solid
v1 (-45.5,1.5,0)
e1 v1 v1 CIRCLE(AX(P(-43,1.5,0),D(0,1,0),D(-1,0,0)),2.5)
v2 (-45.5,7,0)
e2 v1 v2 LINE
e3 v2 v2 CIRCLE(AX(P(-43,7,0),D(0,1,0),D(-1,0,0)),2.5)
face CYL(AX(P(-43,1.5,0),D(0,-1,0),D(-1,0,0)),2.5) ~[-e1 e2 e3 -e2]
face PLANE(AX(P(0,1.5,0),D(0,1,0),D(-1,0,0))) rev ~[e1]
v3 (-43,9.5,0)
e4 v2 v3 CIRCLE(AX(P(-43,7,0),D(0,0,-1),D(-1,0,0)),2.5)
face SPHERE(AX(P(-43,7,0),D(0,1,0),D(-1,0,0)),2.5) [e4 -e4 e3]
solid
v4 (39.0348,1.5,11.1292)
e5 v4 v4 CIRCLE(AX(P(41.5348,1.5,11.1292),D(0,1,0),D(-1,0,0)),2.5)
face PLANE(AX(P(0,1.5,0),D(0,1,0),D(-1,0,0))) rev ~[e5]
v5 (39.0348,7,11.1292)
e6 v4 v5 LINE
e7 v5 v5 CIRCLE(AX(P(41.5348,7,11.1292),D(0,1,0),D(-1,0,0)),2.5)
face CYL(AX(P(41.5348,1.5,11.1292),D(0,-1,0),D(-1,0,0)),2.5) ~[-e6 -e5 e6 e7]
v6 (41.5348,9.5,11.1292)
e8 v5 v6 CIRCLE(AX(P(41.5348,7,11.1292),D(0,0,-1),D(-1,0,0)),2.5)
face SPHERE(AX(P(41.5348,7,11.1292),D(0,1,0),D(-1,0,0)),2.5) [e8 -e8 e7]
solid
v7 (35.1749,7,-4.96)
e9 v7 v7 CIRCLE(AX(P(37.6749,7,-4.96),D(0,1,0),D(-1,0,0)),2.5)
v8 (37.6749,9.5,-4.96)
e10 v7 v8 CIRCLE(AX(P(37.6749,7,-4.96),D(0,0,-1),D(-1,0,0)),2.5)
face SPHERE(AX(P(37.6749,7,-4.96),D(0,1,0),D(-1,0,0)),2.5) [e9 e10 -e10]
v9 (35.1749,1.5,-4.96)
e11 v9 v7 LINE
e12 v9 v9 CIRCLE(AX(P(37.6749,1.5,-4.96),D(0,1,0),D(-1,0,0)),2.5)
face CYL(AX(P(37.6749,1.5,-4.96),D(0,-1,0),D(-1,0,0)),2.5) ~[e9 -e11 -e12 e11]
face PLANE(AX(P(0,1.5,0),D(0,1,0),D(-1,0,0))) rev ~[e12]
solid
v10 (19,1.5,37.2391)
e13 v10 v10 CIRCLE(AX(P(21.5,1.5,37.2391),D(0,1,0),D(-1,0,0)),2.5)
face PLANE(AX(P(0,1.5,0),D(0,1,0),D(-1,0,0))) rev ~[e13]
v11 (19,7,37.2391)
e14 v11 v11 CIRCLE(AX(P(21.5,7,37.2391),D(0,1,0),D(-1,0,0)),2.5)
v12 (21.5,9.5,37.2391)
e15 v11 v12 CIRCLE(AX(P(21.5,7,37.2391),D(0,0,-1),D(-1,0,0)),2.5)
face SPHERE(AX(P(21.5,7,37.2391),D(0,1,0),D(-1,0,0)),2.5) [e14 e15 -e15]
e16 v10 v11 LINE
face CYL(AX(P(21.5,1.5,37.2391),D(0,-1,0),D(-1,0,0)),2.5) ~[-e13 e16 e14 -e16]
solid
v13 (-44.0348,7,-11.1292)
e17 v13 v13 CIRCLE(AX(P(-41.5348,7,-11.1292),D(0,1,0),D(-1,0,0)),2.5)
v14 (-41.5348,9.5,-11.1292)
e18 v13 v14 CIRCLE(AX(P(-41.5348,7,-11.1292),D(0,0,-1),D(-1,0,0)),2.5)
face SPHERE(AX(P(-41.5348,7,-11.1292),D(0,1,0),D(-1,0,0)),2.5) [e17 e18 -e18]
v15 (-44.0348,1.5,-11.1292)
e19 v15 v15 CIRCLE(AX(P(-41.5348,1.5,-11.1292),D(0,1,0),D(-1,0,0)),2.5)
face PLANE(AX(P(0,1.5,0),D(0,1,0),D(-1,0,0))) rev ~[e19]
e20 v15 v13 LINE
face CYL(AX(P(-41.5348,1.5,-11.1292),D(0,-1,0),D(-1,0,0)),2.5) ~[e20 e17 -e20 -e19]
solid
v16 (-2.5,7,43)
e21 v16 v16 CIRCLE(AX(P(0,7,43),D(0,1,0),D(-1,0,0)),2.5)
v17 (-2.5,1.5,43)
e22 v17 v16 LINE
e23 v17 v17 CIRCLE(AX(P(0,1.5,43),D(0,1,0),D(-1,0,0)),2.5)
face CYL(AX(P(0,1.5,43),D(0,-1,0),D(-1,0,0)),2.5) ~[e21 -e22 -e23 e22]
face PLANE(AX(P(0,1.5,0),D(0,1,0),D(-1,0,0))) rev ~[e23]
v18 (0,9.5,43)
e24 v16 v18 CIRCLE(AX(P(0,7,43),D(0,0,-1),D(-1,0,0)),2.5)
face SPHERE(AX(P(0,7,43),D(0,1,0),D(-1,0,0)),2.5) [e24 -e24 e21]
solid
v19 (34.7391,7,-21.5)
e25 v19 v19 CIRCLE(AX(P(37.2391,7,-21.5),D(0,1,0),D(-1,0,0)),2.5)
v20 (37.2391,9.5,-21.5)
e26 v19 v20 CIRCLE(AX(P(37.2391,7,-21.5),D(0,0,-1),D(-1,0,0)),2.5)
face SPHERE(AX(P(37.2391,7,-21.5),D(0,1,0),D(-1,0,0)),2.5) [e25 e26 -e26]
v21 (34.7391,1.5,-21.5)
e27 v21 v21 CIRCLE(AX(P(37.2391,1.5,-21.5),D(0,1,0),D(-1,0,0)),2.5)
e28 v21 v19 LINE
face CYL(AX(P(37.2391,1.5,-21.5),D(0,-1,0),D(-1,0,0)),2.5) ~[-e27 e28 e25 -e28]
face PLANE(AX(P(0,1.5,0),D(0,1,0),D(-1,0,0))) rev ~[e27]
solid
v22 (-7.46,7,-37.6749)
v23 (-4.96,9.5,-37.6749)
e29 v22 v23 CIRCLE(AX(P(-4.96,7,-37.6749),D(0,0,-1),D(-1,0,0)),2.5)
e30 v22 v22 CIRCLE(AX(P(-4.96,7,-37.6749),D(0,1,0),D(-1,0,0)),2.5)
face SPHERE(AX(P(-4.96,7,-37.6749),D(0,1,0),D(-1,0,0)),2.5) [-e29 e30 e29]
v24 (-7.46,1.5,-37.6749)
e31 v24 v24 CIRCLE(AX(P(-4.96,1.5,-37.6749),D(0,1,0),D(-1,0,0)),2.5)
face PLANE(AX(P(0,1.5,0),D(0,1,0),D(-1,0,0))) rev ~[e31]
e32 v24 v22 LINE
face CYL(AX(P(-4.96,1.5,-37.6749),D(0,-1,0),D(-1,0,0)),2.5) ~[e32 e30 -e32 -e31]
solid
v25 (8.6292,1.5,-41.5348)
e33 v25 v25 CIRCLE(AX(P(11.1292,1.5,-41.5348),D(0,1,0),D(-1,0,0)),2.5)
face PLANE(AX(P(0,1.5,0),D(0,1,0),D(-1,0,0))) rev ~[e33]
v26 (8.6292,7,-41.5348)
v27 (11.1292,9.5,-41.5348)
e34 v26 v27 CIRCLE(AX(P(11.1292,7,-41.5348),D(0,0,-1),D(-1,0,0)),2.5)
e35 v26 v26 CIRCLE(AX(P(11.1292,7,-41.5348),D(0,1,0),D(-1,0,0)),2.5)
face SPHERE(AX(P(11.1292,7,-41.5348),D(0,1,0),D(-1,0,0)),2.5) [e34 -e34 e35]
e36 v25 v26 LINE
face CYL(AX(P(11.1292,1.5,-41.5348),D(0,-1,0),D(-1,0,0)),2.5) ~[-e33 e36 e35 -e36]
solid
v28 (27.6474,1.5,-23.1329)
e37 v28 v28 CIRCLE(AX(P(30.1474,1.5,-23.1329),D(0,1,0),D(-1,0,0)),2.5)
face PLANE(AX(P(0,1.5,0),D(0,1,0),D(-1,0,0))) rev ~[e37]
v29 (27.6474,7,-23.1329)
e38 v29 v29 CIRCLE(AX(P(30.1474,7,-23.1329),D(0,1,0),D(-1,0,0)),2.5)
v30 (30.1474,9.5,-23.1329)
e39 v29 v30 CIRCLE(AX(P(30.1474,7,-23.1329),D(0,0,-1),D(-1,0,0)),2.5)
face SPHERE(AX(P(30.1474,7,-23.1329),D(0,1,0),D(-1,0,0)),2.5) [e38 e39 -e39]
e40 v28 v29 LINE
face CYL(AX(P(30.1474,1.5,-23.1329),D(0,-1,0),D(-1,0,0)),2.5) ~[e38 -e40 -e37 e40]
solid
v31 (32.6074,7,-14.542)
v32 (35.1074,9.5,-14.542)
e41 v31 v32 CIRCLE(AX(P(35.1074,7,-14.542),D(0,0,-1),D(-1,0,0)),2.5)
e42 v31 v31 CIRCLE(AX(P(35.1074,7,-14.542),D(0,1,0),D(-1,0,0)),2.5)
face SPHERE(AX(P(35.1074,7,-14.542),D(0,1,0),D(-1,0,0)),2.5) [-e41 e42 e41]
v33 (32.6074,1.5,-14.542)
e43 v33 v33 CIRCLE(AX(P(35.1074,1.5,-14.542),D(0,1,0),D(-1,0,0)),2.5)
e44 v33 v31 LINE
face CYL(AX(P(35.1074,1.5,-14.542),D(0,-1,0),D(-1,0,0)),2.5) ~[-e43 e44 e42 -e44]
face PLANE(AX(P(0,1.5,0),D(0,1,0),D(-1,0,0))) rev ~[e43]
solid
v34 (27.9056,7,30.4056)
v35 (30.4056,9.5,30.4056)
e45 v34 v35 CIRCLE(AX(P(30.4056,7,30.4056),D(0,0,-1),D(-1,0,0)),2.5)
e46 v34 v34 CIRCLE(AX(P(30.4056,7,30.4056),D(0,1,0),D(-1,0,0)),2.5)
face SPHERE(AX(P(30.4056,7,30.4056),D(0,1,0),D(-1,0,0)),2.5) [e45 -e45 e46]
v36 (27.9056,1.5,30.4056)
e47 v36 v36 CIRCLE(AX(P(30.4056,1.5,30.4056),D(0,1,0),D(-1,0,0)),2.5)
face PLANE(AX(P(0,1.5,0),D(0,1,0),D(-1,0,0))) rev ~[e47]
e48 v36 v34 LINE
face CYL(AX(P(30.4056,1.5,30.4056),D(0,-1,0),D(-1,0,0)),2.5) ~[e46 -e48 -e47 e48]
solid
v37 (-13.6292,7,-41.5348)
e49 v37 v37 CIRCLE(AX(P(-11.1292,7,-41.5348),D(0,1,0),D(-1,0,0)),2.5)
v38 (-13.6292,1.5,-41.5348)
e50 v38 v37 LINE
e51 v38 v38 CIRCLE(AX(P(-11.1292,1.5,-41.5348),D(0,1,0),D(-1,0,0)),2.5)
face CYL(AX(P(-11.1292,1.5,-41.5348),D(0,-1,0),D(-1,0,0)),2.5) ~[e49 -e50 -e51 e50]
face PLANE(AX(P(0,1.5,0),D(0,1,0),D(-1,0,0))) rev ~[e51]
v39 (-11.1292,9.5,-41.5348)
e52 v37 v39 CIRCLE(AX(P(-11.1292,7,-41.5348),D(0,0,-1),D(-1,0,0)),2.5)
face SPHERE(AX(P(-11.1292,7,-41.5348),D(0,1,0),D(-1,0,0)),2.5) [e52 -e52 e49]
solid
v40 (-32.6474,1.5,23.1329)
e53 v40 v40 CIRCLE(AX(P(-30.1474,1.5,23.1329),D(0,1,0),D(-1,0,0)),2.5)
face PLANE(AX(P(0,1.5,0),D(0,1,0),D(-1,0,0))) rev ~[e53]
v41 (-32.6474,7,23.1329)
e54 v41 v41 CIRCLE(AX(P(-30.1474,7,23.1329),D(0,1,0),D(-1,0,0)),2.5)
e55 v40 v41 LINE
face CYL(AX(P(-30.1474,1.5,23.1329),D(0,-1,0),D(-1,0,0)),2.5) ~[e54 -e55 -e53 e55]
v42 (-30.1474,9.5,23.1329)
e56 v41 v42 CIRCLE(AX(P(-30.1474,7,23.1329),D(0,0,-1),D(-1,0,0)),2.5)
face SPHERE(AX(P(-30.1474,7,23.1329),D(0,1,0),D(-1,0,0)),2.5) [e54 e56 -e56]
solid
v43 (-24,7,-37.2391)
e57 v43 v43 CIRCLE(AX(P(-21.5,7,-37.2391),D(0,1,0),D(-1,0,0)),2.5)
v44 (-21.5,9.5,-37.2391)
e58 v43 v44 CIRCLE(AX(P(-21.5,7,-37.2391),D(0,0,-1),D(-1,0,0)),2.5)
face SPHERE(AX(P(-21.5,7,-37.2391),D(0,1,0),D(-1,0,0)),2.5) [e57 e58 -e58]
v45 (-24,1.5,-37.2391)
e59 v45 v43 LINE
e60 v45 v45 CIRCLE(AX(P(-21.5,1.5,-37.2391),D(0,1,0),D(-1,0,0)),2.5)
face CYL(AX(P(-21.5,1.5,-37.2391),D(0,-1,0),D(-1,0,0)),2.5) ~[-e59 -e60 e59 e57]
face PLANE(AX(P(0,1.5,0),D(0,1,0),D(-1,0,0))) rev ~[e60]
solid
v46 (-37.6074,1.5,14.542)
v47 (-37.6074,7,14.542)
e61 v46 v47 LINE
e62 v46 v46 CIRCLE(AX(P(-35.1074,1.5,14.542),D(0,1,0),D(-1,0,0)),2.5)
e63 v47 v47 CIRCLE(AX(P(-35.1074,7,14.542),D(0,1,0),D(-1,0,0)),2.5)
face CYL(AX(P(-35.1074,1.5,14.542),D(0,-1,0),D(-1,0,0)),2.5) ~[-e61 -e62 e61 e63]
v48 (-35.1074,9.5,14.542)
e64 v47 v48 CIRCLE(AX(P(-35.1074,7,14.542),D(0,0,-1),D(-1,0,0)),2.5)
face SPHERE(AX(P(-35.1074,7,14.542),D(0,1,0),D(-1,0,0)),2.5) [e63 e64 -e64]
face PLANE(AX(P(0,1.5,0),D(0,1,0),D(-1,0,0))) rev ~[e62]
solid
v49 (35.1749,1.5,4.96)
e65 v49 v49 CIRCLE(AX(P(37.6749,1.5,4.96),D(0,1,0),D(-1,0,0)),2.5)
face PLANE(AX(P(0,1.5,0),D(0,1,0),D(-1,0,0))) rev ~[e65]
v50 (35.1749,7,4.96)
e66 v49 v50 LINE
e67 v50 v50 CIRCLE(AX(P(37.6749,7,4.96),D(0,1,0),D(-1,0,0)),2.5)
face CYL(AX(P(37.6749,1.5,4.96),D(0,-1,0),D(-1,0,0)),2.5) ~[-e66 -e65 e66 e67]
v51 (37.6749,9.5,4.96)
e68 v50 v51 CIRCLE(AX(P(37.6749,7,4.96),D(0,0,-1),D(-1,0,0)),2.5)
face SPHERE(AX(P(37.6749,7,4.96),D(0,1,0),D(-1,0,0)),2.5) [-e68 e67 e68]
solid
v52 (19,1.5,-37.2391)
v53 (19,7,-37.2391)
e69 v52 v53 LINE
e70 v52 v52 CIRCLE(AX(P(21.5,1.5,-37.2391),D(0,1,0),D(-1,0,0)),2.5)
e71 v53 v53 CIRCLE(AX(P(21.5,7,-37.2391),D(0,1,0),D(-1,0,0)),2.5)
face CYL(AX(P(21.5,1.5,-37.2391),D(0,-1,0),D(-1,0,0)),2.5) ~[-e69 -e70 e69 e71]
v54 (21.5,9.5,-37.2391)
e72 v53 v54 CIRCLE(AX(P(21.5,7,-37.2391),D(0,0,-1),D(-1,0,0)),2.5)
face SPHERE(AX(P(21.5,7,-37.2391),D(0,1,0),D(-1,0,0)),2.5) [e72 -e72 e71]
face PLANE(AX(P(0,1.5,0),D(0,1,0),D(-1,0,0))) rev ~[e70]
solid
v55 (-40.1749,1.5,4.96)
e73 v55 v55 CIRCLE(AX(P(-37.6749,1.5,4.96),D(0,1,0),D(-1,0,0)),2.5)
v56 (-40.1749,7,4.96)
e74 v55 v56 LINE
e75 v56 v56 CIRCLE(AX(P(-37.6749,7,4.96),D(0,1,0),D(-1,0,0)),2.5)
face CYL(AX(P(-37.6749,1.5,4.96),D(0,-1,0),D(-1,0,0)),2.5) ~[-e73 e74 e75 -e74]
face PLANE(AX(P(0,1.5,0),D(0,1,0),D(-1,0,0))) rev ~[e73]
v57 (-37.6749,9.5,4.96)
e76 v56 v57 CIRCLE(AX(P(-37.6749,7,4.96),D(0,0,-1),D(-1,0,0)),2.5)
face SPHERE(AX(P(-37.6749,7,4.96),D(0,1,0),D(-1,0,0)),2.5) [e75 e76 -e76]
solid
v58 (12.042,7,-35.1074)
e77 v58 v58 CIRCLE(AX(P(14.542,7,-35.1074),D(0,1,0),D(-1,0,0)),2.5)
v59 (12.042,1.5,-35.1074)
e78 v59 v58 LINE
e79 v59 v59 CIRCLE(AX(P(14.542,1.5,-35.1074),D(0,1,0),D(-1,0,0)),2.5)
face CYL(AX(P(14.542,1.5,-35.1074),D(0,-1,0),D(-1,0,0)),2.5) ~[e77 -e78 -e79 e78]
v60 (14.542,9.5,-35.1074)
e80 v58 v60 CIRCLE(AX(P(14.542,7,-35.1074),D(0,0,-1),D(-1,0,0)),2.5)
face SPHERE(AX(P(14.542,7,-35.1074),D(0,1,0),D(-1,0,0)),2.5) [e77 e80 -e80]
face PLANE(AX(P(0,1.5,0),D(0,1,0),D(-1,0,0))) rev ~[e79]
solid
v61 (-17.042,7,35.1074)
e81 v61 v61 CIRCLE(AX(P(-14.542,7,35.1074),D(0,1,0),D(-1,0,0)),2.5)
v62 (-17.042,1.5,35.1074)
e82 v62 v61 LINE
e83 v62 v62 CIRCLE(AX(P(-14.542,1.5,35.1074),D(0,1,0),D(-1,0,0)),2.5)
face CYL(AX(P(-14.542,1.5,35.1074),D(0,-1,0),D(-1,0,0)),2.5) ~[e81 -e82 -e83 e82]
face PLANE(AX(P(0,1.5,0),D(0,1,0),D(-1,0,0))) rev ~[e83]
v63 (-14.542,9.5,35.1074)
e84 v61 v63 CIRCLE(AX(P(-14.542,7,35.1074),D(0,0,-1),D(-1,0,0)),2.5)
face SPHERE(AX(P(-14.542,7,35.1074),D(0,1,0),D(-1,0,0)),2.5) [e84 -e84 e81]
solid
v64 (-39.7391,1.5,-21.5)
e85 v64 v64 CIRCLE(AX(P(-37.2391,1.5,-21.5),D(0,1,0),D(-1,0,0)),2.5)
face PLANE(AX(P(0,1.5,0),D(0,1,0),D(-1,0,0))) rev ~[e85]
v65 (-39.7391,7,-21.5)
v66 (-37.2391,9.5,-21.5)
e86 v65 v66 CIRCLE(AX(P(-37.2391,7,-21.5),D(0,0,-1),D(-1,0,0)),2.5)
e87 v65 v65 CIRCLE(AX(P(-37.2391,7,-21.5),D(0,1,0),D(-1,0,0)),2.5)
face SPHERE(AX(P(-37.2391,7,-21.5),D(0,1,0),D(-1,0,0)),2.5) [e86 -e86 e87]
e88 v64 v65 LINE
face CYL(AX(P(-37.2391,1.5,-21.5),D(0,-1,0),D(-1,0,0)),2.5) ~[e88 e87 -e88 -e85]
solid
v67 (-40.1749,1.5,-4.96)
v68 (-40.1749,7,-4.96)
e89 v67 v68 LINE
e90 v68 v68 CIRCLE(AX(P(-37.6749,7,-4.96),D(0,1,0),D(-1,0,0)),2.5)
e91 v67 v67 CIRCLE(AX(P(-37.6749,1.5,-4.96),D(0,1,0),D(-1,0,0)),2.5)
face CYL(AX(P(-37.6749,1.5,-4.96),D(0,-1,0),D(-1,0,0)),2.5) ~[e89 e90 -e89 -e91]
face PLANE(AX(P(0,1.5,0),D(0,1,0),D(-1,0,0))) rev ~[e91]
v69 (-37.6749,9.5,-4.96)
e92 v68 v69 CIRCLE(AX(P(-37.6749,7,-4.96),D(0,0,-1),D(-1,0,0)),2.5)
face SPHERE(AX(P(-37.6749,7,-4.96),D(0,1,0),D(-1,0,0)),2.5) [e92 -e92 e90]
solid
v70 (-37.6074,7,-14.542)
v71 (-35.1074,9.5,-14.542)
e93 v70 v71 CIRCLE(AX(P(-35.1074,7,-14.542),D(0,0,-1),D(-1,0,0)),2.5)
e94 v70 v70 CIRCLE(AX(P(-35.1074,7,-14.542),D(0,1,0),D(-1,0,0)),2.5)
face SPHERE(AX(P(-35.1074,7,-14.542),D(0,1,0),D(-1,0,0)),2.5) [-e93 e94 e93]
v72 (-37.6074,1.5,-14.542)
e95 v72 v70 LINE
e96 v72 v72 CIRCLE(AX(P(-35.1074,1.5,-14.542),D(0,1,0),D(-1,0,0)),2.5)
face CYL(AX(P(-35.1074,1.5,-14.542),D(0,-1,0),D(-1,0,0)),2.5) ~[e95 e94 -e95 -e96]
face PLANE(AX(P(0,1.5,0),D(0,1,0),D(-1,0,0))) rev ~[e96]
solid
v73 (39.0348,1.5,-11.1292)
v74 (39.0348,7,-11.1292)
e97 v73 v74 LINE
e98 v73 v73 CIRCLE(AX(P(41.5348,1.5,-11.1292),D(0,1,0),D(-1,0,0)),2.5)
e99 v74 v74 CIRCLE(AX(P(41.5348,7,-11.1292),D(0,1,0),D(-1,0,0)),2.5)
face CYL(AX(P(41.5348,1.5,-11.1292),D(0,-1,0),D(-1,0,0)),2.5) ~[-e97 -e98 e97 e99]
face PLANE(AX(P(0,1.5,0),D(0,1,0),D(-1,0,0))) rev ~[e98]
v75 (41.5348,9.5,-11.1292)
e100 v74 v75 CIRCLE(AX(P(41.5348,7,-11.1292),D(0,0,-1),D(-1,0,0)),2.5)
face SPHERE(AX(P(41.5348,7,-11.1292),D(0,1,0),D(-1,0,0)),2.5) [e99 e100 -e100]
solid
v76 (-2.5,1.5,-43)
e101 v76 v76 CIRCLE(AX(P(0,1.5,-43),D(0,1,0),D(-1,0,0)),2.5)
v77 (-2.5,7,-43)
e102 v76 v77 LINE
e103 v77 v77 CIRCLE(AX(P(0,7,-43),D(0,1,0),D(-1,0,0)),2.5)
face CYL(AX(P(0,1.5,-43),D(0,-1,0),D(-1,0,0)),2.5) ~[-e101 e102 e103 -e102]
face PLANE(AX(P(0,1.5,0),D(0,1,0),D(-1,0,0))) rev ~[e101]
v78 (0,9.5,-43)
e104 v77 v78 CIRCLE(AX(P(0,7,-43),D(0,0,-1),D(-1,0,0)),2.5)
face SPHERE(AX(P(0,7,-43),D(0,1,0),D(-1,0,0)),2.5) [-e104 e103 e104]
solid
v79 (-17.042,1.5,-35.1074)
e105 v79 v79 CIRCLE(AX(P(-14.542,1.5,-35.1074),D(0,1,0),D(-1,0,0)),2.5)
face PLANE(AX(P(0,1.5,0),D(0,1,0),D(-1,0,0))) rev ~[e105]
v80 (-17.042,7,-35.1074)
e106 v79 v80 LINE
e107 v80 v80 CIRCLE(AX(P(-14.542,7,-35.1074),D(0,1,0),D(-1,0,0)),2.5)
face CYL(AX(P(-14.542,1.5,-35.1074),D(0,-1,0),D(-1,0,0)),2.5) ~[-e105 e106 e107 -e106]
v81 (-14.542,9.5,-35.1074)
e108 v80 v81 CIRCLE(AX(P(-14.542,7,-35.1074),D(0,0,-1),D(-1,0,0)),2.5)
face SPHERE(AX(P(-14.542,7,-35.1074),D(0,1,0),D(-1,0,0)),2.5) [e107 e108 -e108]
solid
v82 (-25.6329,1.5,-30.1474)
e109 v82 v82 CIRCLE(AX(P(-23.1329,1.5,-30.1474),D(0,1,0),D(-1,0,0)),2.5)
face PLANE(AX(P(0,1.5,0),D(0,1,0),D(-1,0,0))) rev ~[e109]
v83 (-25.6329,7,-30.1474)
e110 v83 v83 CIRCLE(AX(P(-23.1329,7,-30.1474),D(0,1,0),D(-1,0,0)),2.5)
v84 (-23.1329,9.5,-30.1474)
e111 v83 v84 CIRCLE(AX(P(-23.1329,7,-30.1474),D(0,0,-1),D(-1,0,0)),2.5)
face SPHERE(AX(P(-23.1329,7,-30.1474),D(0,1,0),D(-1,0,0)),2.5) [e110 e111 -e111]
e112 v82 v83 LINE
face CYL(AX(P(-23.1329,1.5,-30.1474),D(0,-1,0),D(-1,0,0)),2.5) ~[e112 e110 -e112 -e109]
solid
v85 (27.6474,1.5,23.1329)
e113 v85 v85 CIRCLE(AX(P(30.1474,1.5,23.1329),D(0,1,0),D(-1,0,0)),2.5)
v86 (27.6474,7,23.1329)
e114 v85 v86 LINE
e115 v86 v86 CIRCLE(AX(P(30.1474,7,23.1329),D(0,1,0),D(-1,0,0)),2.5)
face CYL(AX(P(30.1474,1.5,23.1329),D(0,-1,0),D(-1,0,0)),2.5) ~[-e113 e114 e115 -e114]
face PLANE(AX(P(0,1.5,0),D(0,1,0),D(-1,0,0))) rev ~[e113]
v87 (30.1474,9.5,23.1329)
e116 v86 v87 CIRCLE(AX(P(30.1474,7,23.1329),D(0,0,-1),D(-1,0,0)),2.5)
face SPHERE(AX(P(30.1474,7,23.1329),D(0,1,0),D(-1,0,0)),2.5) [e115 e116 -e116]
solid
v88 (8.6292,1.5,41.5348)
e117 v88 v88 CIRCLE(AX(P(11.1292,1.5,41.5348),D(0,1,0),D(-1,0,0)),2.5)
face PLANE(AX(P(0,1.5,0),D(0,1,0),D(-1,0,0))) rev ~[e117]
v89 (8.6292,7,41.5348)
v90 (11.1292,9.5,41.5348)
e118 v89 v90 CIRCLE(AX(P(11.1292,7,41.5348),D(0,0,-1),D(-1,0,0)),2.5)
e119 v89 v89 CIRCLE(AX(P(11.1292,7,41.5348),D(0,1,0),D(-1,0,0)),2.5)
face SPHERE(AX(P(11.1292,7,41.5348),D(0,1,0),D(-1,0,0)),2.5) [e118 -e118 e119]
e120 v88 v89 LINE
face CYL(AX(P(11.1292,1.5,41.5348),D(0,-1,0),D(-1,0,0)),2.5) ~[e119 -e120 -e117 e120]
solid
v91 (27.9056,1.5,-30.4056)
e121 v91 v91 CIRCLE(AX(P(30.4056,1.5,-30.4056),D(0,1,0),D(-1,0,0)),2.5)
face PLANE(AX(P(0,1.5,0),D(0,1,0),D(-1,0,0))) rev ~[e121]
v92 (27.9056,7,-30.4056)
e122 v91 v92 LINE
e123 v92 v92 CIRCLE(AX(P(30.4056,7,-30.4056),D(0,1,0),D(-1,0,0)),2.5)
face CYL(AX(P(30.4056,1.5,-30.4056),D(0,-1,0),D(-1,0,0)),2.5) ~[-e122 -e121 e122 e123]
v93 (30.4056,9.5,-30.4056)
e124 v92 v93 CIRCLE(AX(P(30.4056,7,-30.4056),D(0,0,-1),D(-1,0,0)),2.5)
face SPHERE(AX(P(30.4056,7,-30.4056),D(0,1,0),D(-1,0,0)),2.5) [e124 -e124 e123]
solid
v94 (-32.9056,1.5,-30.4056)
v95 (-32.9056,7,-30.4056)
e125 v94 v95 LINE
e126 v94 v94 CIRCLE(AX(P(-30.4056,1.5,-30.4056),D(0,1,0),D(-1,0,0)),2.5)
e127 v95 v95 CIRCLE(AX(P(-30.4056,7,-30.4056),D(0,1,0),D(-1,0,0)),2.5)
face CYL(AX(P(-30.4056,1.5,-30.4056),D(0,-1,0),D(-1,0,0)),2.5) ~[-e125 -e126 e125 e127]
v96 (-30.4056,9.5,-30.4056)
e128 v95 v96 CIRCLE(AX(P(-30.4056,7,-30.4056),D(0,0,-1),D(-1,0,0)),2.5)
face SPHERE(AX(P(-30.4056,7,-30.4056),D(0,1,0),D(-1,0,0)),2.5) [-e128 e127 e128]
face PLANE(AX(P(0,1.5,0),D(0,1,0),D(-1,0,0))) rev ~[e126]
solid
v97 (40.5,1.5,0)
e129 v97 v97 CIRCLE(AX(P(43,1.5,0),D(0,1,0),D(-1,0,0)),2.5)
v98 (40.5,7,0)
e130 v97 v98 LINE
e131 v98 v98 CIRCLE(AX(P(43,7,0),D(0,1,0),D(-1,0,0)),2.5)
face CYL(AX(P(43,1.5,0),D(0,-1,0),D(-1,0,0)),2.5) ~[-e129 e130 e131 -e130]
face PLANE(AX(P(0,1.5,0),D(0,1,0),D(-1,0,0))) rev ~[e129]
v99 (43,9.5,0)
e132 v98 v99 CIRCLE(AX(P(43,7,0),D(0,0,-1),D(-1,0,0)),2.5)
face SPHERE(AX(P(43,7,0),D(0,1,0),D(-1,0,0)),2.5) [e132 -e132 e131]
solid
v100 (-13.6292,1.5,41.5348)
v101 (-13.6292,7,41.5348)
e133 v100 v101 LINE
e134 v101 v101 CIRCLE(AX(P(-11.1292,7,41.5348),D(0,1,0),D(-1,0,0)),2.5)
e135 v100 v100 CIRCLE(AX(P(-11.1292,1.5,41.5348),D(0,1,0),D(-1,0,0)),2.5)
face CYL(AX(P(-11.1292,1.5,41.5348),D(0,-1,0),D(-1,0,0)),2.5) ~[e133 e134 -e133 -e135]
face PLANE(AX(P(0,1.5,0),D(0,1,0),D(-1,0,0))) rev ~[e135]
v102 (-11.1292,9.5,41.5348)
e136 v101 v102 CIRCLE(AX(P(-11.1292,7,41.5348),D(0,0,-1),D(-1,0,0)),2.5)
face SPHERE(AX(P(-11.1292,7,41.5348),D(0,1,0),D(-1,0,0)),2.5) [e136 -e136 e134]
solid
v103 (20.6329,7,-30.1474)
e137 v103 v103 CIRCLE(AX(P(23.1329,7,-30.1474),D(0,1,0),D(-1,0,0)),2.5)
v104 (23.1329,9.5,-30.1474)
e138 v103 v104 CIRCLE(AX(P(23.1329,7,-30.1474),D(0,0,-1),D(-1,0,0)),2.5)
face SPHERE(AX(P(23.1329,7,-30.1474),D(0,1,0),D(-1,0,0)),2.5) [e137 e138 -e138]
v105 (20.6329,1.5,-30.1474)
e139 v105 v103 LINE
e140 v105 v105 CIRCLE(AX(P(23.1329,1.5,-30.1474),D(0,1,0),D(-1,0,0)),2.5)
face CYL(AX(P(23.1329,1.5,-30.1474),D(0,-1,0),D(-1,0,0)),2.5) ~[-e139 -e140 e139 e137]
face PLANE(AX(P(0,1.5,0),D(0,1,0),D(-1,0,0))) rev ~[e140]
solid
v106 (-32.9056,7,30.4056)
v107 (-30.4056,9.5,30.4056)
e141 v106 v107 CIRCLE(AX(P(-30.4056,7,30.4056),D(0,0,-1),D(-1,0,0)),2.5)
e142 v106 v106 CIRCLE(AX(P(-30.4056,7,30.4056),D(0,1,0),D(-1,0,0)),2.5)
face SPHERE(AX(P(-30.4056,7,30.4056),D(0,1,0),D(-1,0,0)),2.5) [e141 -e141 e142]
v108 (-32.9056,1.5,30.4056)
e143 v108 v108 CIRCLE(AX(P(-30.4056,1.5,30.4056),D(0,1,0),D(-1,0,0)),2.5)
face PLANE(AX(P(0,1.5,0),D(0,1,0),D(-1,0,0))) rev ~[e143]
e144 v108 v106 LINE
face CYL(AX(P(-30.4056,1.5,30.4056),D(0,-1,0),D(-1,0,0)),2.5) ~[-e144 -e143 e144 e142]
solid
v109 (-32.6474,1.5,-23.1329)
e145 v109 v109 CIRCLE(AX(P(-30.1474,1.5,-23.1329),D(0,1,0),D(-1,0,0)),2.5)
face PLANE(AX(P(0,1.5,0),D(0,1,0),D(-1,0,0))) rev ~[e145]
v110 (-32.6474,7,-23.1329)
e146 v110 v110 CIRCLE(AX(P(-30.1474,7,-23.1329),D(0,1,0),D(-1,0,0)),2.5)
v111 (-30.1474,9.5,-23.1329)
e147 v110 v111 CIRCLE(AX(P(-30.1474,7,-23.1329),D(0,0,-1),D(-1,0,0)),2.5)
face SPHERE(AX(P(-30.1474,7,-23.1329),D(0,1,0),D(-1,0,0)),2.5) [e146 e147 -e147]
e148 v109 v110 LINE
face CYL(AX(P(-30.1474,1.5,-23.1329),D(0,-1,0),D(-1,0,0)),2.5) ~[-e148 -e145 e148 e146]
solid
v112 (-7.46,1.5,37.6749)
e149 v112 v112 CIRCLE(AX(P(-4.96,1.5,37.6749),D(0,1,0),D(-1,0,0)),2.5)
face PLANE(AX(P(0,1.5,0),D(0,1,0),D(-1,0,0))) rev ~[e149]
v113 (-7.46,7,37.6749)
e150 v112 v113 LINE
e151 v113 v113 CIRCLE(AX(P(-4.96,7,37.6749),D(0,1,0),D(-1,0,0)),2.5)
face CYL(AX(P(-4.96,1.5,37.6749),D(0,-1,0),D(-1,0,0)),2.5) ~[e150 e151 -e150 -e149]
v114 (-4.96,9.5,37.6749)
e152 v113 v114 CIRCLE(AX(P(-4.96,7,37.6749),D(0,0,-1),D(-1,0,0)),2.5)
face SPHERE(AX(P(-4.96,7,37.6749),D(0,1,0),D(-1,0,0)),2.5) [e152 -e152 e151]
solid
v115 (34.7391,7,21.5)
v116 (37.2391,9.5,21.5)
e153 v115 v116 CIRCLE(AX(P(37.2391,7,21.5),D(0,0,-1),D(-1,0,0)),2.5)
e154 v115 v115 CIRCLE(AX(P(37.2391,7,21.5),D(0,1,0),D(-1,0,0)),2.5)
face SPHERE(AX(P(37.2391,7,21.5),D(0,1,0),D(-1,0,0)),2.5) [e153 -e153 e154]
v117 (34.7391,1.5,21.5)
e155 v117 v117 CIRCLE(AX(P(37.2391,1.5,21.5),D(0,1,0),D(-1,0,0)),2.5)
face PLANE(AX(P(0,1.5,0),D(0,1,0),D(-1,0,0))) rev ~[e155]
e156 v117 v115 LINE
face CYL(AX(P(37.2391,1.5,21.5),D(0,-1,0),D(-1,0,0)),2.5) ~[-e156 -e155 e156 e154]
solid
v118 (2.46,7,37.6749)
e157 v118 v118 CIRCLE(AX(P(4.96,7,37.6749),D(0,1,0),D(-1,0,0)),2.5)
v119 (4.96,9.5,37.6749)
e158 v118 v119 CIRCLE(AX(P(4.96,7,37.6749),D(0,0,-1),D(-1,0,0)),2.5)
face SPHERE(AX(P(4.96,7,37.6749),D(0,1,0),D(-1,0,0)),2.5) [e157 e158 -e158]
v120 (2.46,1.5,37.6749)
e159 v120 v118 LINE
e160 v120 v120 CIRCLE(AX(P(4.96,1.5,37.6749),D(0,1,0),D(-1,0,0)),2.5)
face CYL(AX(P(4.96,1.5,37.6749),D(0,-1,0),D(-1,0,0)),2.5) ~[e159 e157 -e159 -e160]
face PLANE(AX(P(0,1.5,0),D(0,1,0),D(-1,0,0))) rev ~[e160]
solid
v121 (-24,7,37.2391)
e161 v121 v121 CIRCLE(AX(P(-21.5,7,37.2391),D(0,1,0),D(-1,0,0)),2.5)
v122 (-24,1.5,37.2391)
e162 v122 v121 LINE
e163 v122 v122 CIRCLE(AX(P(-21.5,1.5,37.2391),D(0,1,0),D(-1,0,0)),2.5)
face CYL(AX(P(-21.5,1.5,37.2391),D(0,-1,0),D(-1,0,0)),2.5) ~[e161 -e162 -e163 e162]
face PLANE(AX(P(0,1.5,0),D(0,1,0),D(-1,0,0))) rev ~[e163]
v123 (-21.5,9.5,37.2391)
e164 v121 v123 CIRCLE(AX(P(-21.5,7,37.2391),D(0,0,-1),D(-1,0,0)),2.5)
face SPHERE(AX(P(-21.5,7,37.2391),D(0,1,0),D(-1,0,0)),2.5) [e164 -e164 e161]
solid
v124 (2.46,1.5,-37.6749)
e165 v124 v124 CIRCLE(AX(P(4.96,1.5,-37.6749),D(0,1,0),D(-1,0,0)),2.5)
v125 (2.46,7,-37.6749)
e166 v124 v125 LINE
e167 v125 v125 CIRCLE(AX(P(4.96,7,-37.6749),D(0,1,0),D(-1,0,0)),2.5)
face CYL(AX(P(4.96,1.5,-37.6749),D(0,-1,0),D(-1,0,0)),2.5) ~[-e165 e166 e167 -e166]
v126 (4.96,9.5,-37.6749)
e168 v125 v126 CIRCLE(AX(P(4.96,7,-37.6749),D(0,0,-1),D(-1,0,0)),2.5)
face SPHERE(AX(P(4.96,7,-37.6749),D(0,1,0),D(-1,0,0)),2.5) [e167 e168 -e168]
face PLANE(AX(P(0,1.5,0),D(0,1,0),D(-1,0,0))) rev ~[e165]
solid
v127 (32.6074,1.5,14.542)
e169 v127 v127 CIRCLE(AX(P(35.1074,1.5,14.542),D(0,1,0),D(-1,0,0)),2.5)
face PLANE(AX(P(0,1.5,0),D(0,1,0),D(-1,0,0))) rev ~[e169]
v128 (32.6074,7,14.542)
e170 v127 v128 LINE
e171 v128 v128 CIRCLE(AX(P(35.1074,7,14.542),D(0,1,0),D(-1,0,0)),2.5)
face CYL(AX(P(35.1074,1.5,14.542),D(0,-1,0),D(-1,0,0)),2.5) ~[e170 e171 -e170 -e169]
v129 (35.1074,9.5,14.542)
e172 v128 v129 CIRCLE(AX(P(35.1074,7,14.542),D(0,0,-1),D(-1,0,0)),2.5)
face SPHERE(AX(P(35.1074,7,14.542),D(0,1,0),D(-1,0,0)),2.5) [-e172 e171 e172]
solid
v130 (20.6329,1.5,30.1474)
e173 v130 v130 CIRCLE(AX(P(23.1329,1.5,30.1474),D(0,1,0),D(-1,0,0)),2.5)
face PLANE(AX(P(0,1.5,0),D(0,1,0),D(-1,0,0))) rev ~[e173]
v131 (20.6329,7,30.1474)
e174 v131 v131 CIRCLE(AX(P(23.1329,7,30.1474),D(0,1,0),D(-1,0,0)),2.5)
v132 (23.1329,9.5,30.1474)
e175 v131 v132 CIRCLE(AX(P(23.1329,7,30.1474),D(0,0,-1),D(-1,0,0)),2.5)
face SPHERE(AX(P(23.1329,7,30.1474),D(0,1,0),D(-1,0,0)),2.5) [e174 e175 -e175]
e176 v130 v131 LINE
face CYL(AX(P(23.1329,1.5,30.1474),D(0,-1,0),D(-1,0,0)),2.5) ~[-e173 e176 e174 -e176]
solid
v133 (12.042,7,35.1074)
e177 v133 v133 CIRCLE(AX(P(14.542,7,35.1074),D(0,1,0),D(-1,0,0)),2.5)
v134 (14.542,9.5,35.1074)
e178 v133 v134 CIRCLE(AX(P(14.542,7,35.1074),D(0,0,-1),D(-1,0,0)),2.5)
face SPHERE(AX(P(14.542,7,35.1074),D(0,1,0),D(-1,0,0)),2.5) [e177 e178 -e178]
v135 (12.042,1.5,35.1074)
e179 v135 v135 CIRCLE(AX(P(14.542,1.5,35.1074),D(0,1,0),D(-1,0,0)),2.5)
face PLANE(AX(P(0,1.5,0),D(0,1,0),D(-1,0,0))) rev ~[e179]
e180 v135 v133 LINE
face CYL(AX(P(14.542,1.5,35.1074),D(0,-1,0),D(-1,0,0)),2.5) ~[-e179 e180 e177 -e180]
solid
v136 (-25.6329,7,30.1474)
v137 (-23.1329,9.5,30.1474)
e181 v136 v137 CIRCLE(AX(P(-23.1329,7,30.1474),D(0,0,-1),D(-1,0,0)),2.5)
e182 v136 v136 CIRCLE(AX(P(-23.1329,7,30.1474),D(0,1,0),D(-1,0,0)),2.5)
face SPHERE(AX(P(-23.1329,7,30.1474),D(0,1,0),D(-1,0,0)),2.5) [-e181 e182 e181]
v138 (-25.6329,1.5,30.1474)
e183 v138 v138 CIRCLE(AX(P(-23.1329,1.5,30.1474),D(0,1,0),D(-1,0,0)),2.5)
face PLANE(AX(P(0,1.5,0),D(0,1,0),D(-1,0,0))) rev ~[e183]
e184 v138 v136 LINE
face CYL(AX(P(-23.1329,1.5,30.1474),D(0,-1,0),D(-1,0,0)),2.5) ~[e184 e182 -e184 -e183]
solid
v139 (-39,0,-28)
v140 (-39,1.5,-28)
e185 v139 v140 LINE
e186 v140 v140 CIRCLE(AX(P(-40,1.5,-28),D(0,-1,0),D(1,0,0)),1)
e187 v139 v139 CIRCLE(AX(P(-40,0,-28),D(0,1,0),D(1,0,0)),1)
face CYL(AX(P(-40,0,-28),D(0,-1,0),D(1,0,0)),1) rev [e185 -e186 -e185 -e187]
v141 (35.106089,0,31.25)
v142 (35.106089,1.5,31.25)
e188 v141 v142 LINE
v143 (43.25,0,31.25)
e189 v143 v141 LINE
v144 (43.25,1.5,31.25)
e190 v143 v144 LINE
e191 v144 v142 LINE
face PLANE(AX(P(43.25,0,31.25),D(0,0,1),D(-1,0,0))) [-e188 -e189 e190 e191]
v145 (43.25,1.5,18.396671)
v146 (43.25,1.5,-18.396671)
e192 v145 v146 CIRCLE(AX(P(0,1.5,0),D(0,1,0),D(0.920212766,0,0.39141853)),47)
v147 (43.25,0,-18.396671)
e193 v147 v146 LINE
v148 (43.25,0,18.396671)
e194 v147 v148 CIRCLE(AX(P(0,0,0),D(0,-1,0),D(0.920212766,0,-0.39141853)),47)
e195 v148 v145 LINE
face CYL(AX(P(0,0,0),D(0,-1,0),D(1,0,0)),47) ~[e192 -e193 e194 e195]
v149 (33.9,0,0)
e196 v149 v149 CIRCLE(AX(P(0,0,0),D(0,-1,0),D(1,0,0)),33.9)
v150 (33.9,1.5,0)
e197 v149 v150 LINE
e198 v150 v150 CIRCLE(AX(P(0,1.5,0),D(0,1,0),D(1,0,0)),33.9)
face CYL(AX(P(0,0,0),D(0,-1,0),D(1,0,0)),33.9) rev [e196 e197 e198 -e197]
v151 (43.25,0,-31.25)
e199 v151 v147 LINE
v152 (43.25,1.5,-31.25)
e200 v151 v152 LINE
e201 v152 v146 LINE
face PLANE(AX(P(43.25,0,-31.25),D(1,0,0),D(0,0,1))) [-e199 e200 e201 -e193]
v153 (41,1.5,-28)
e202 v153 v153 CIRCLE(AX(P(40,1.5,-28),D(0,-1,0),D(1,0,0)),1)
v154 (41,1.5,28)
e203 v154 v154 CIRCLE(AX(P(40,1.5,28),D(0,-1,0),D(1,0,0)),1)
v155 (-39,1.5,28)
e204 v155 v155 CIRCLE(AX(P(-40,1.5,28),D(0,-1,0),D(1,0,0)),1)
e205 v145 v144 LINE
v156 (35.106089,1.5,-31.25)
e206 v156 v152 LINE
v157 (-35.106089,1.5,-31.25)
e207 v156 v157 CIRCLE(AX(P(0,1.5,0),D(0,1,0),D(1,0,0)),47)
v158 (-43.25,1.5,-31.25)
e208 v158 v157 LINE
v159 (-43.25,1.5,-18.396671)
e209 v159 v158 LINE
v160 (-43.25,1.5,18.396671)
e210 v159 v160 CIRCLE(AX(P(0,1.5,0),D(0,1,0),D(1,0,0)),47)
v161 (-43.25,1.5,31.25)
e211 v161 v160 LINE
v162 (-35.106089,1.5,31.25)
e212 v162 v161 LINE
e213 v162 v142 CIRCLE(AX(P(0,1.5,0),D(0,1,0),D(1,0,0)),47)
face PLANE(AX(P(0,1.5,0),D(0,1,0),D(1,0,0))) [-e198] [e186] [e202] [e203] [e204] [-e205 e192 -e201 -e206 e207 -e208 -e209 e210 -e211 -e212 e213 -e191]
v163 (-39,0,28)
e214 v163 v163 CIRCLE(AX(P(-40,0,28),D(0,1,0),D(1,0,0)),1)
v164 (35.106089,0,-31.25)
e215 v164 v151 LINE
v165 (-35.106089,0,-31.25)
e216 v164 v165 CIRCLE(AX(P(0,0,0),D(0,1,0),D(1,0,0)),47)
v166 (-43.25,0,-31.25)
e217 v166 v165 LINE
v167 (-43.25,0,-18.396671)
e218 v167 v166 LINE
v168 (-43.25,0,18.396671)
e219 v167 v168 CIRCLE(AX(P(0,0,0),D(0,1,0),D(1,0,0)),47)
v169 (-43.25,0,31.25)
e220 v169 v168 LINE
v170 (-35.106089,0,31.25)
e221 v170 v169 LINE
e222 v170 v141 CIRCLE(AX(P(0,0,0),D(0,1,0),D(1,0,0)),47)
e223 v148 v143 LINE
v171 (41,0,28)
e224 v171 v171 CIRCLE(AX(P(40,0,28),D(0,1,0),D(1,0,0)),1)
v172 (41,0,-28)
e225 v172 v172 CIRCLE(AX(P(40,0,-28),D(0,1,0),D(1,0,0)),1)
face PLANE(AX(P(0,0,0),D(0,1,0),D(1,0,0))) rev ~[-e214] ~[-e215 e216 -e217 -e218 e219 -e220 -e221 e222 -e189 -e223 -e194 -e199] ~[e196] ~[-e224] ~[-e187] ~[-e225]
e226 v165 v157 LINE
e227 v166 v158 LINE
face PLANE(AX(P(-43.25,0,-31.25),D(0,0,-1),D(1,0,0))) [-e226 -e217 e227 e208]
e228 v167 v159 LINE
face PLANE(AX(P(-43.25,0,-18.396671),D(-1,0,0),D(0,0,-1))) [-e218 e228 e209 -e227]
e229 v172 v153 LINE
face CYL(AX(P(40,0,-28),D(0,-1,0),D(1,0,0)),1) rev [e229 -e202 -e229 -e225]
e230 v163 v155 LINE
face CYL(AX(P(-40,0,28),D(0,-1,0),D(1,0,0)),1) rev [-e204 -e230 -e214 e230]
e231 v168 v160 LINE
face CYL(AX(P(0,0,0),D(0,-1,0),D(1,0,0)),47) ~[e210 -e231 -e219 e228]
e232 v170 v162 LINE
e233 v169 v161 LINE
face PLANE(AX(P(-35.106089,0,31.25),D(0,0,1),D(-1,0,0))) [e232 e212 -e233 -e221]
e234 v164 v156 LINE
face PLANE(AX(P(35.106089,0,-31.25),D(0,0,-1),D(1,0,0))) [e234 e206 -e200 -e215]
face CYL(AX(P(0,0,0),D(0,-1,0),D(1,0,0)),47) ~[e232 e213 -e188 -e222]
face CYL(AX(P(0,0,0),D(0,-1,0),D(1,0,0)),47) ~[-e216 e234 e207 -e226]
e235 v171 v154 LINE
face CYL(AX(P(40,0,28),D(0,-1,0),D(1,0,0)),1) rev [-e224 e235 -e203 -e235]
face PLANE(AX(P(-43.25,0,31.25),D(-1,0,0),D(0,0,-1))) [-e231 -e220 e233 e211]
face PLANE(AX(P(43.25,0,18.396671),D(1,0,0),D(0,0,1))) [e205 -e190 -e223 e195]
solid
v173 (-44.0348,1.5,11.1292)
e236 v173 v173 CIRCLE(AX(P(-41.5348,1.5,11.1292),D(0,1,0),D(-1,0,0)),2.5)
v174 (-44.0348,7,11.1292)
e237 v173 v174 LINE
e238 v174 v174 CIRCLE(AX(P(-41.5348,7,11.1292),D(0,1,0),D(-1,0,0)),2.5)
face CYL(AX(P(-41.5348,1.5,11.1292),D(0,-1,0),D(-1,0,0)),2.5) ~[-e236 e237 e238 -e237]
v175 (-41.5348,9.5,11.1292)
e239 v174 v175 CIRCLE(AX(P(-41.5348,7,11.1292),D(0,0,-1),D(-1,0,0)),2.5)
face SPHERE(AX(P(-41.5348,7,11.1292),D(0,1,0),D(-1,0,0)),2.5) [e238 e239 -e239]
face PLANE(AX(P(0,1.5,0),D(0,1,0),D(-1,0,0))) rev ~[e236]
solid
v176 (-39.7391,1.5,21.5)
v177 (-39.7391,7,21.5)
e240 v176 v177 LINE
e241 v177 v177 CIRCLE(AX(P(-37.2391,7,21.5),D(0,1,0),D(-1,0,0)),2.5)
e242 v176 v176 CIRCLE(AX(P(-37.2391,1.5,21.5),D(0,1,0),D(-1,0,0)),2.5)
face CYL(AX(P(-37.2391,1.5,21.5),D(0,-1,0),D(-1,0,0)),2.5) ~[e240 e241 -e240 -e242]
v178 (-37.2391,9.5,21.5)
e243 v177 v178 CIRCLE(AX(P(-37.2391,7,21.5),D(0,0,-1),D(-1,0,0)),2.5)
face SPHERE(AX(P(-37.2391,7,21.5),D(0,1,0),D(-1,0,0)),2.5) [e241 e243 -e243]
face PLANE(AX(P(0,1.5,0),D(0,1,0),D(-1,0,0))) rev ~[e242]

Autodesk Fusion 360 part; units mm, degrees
sketch "PCB Outline" plane through (0, 0, 0) normal (0, 1, 0) x (1, 0, 0)
  circle A0 centre (0, 0) radius 33.9
  circle A1 centre (0, 0) radius 47
  line L0 (-40, 28) -> (40, 28)
  line L1 (40, 28) -> (40, -28)
  line L2 (40, -28) -> (-40, -28)
  line L3 (-40, -28) -> (-40, 28)
  line L4 (0, 28) -> (0, 0) construction
  line L5 (0, 0) -> (-40, 0) construction
  line L6 (-43.25, 31.25) -> (43.25, 31.25)
  line L7 (43.25, 31.25) -> (43.25, -31.25)
  line L8 (43.25, -31.25) -> (-43.25, -31.25)
  line L9 (-43.25, -31.25) -> (-43.25, 31.25)
  line L10 (0, 31.25) -> (0, 0) construction
  line L11 (0, 0) -> (-43.25, 0) construction
  circle A2 centre (-40, 28) radius 1
  circle A3 centre (40, 28) radius 1
  circle A4 centre (40, -28) radius 1
  circle A5 centre (-40, -28) radius 1
  dimension "d1" = 67.8
  dimension "d2" = 94
  dimension "d3" = 80
  dimension "d4" = 56
  dimension "d5" = 86.5
  dimension "d6" = 62.5
  dimension "d7" = 2
extrude "Extrude1" add sketch "PCB Outline" along normal blind 1.5 contours A0 A1 L0 L1 L2 | A0 A1 L0 L6 | A0 A1 L2 L8 | A0 A1 L6 | A0 A1 L0 L6 | A0 A1 L0 L2 L3 | A1 L0 L1 A3 | A1 L0 L1 L6 L7 A3 | A0 A1 L8 | A1 L1 L2 L7 L8 A4 | A1 L1 L2 A4 | A0 A1 L2 L8 | A1 L0 L3 L6 L9 A2 | A1 L0 L3 A2 | A1 L1 L7 | A1 L2 L3 A5 | A1 L2 L3 L8 L9 A5 | A1 L3 L9 | A1 L7 | A1 L9 makes body 1
sketch "LEDs" plane through (0, 1.5, 0) normal (0, 1, 0) x (-1, 0, 0)
  circle A0 centre (-40, 28) radius 1
  circle A1 centre (40, 28) radius 1
  circle A2 centre (40, -28) radius 1
  circle A3 centre (0, 0) radius 33.9
  circle A4 centre (-40, -28) radius 1
  arc A5 (35.1061, 31.25) -> (-35.1061, 31.25) centre (0, 0) ccw
  line L0 (-35.1061, 31.25) -> (-43.25, 31.25)
  line L1 (-43.25, 31.25) -> (-43.25, 18.3967)
  arc A6 (-43.25, 18.3967) -> (-43.25, -18.3967) centre (0, 0) ccw
  line L2 (-43.25, -18.3967) -> (-43.25, -31.25)
  line L3 (-43.25, -31.25) -> (-35.1061, -31.25)
  arc A7 (-35.1061, -31.25) -> (35.1061, -31.25) centre (0, 0) ccw
  line L4 (35.1061, -31.25) -> (43.25, -31.25)
  line L5 (43.25, -31.25) -> (43.25, -18.3967)
  arc A8 (43.25, -18.3967) -> (43.25, 18.3967) centre (0, 0) ccw
  line L6 (43.25, 18.3967) -> (43.25, 31.25)
  line L7 (43.25, 31.25) -> (35.1061, 31.25)
  circle A9 centre (0, 0) radius 38 construction
  circle A10 centre (0, 0) radius 43 construction
  line L8 (0, 0) -> (0, -43) construction
  circle A11 centre (0, -43) radius 2.5
  circle A12 centre (11.1292, -41.5348) radius 2.5
  circle A13 centre (21.5, -37.2391) radius 2.5
  circle A14 centre (30.4056, -30.4056) radius 2.5
  circle A15 centre (37.2391, -21.5) radius 2.5
  circle A16 centre (41.5348, -11.1292) radius 2.5
  circle A17 centre (43, 0) radius 2.5
  circle A18 centre (41.5348, 11.1292) radius 2.5
  circle A19 centre (37.2391, 21.5) radius 2.5
  circle A20 centre (30.4056, 30.4056) radius 2.5
  circle A21 centre (21.5, 37.2391) radius 2.5
  circle A22 centre (11.1292, 41.5348) radius 2.5
  circle A23 centre (0, 43) radius 2.5
  circle A24 centre (-11.1292, 41.5348) radius 2.5
  circle A25 centre (-21.5, 37.2391) radius 2.5
  circle A26 centre (-30.4056, 30.4056) radius 2.5
  circle A27 centre (-37.2391, 21.5) radius 2.5
  circle A28 centre (-41.5348, 11.1292) radius 2.5
  circle A29 centre (-43, 0) radius 2.5
  circle A30 centre (-41.5348, -11.1292) radius 2.5
  circle A31 centre (-37.2391, -21.5) radius 2.5
  circle A32 centre (-30.4056, -30.4056) radius 2.5
  circle A33 centre (-21.5, -37.2391) radius 2.5
  circle A34 centre (-11.1292, -41.5348) radius 2.5
  circle A35 centre (4.96, -37.6749) radius 2.5
  line L9 (0, 0) -> (4.96, -37.6749) construction
  circle A36 centre (14.542, -35.1074) radius 2.5
  circle A37 centre (23.1329, -30.1474) radius 2.5
  circle A38 centre (30.1474, -23.1329) radius 2.5
  circle A39 centre (35.1074, -14.542) radius 2.5
  circle A40 centre (37.6749, -4.96) radius 2.5
  circle A41 centre (37.6749, 4.96) radius 2.5
  circle A42 centre (35.1074, 14.542) radius 2.5
  circle A43 centre (30.1474, 23.1329) radius 2.5
  circle A44 centre (23.1329, 30.1474) radius 2.5
  circle A45 centre (14.542, 35.1074) radius 2.5
  circle A46 centre (4.96, 37.6749) radius 2.5
  circle A47 centre (-4.96, 37.6749) radius 2.5
  circle A48 centre (-14.542, 35.1074) radius 2.5
  circle A49 centre (-23.1329, 30.1474) radius 2.5
  circle A50 centre (-30.1474, 23.1329) radius 2.5
  circle A51 centre (-35.1074, 14.542) radius 2.5
  circle A52 centre (-37.6749, 4.96) radius 2.5
  circle A53 centre (-37.6749, -4.96) radius 2.5
  circle A54 centre (-35.1074, -14.542) radius 2.5
  circle A55 centre (-30.1474, -23.1329) radius 2.5
  circle A56 centre (-23.1329, -30.1474) radius 2.5
  circle A57 centre (-14.542, -35.1074) radius 2.5
  circle A58 centre (-4.96, -37.6749) radius 2.5
  dimension "d10" = 76
  dimension "d11" = 86
  dimension "d12" = 5
  dimension "d14" = 360
  dimension "d15" = 7.5
  dimension "d17" = 360
extrude "Extrude2" add sketch "LEDs" along normal blind 8 separate body contours A11 | A12 | A13 | A14 | A15 | A16 | A17 | A18 | A19 | A20 | A21 | A22 | A23 | A24 | A25 | A26 | A27 | A28 | A29 | A30 | A31 | A32 | A33 | A34 | A35 | A36 | A37 | A38 | A39 | A40 | A41 | A42 | A43 | A44 | A45 | A46 | A47 | A48 | A49 | A50 | A51 | A52 | A53 | A54 | A55 | A56 | A57 | A58 makes body 2 at (-17.0389, 6.8333, -35.232) makes body 3 at (2.4631, 6.8333, -37.7995) makes body 4 at (20.636, 6.8333, -30.272) makes body 5 at (32.6105, 6.8333, -14.6666) makes body 6 at (35.178, 6.8333, 4.8354) makes body 7 at (27.6505, 6.8333, 23.0083) makes body 8 at (12.0451, 6.8333, 34.9828) makes body 9 at (-7.4569, 6.8333, 37.5503) makes body 10 at (-25.6298, 6.8333, 30.0228) makes body 11 at (-37.6043, 6.8333, 14.4174) makes body 12 at (-40.1718, 6.8333, -5.0846) makes body 13 at (-32.6443, 6.8333, -23.2575) makes body 14 at (-39.736, 6.8333, -21.6246) makes body 15 at (-45.4969, 6.8333, -0.1246) makes body 16 at (-39.736, 6.8333, 21.3754) makes body 17 at (-23.9969, 6.8333, 37.1145) makes body 18 at (-2.4969, 6.8333, 42.8754) makes body 19 at (19.0031, 6.8333, 37.1145) makes body 20 at (34.7422, 6.8333, 21.3754) makes body 21 at (40.5031, 6.8333, -0.1246) makes body 22 at (34.7422, 6.8333, -21.6246) makes body 23 at (19.0031, 6.8333, -37.3637) makes body 24 at (-2.4969, 6.8333, -43.1246) makes body 25 at (-23.9969, 6.8333, -37.3637) makes body 26 at (-13.6261, 6.8333, -41.6594) makes body 27 at (8.6323, 6.8333, -41.6594) makes body 28 at (27.9087, 6.8333, -30.5302) makes body 29 at (39.0379, 6.8333, -11.2538) makes body 30 at (39.0379, 6.8333, 11.0046) makes body 31 at (27.9087, 6.8333, 30.281) makes body 32 at (2.4631, 6.8333, 37.5503) makes body 33 at (-13.6261, 6.8333, 41.4102) makes body 34 at (-32.9025, 6.8333, 30.281) makes body 35 at (-40.1718, 6.8333, 4.8354) makes body 36 at (-37.6043, 6.8333, -14.6666) makes body 37 at (-32.9025, 6.8333, -30.5302) makes body 38 at (-44.0317, 6.8333, -11.2538) makes body 39 at (-44.0317, 6.8333, 11.0046) makes body 40 at (-32.6443, 6.8333, 23.0083) makes body 41 at (-17.0389, 6.8333, 34.9828) makes body 42 at (8.6323, 6.8333, 41.4102) makes body 43 at (20.636, 6.8333, 30.0228) makes body 44 at (32.6105, 6.8333, 14.4174) makes body 45 at (35.178, 6.8333, -5.0846) makes body 46 at (27.6505, 6.8333, -23.2575) makes body 47 at (12.0451, 6.8333, -35.232) makes body 48 at (-7.4569, 6.8333, -37.7995) makes body 49 at (-25.6298, 6.8333, -30.272)
fillet "Fillet1" radius 2.5 48 edges at (25.4638, 9.5, 29.2434) (7.2908, 9.5, 36.7709) (-35.3441, 9.5, -5.864) (16.8728, 9.5, 34.2034) (37.4382, 9.5, 13.6379) (37.4382, 9.5, -15.446) (-8.7984, 9.5, 40.6308) (43.8656, 9.5, 10.2252) (-20.8021, 9.5, 29.2434) (23.8308, 9.5, 36.3351) (32.4782, 9.5, 22.2289) (13.46, 9.5, 40.6308) (32.7364, 9.5, 29.5016) (40.0057, 9.5, -5.864) (45.3308, 9.5, -0.904) (-35.3441, 9.5, 4.056) (-27.8166, 9.5, 22.2289) (-39.204, 9.5, 10.2252) (-40.6692, 9.5, -0.904) (43.8656, 9.5, -12.0333) (-2.6292, 9.5, 36.7709) (-19.1692, 9.5, 36.3351) (39.5699, 9.5, -22.404) (23.8308, 9.5, -38.1431) (16.8728, 9.5, -36.0115) (-20.8021, 9.5, -31.0515) (39.5699, 9.5, 20.596) (7.2908, 9.5, -38.5789) (-28.0748, 9.5, -31.3096) (25.4638, 9.5, -31.0515) (-19.1692, 9.5, -38.1431) (32.7364, 9.5, -31.3096) (-32.7766, 9.5, -15.446) (2.3308, 9.5, 42.096) (-8.7984, 9.5, -42.4388) (13.46, 9.5, -42.4388) (-12.2112, 9.5, 34.2034) (-34.9083, 9.5, -22.404) (-34.9083, 9.5, 20.596) (32.4782, 9.5, -24.037) (-2.6292, 9.5, -38.5789) (-12.2112, 9.5, -36.0115) (-32.7766, 9.5, 13.6379) (40.0057, 9.5, 4.056) (2.3308, 9.5, -43.904) (-28.0748, 9.5, 29.5016) (-39.204, 9.5, -12.0333) (-27.8166, 9.5, -24.037) on bodies 2 3 4 5 6 7 8 9 10 11 12 13 14 15 16 17 18 19 20 21 22 23 24 25 26 27 28 29 30 31 32 33 34 35 36 37 38 39 40 41 42 43 44 45 46 47 48 49
equation "d15 = ( 360 / 24 / 2 ) * 1 deg"
